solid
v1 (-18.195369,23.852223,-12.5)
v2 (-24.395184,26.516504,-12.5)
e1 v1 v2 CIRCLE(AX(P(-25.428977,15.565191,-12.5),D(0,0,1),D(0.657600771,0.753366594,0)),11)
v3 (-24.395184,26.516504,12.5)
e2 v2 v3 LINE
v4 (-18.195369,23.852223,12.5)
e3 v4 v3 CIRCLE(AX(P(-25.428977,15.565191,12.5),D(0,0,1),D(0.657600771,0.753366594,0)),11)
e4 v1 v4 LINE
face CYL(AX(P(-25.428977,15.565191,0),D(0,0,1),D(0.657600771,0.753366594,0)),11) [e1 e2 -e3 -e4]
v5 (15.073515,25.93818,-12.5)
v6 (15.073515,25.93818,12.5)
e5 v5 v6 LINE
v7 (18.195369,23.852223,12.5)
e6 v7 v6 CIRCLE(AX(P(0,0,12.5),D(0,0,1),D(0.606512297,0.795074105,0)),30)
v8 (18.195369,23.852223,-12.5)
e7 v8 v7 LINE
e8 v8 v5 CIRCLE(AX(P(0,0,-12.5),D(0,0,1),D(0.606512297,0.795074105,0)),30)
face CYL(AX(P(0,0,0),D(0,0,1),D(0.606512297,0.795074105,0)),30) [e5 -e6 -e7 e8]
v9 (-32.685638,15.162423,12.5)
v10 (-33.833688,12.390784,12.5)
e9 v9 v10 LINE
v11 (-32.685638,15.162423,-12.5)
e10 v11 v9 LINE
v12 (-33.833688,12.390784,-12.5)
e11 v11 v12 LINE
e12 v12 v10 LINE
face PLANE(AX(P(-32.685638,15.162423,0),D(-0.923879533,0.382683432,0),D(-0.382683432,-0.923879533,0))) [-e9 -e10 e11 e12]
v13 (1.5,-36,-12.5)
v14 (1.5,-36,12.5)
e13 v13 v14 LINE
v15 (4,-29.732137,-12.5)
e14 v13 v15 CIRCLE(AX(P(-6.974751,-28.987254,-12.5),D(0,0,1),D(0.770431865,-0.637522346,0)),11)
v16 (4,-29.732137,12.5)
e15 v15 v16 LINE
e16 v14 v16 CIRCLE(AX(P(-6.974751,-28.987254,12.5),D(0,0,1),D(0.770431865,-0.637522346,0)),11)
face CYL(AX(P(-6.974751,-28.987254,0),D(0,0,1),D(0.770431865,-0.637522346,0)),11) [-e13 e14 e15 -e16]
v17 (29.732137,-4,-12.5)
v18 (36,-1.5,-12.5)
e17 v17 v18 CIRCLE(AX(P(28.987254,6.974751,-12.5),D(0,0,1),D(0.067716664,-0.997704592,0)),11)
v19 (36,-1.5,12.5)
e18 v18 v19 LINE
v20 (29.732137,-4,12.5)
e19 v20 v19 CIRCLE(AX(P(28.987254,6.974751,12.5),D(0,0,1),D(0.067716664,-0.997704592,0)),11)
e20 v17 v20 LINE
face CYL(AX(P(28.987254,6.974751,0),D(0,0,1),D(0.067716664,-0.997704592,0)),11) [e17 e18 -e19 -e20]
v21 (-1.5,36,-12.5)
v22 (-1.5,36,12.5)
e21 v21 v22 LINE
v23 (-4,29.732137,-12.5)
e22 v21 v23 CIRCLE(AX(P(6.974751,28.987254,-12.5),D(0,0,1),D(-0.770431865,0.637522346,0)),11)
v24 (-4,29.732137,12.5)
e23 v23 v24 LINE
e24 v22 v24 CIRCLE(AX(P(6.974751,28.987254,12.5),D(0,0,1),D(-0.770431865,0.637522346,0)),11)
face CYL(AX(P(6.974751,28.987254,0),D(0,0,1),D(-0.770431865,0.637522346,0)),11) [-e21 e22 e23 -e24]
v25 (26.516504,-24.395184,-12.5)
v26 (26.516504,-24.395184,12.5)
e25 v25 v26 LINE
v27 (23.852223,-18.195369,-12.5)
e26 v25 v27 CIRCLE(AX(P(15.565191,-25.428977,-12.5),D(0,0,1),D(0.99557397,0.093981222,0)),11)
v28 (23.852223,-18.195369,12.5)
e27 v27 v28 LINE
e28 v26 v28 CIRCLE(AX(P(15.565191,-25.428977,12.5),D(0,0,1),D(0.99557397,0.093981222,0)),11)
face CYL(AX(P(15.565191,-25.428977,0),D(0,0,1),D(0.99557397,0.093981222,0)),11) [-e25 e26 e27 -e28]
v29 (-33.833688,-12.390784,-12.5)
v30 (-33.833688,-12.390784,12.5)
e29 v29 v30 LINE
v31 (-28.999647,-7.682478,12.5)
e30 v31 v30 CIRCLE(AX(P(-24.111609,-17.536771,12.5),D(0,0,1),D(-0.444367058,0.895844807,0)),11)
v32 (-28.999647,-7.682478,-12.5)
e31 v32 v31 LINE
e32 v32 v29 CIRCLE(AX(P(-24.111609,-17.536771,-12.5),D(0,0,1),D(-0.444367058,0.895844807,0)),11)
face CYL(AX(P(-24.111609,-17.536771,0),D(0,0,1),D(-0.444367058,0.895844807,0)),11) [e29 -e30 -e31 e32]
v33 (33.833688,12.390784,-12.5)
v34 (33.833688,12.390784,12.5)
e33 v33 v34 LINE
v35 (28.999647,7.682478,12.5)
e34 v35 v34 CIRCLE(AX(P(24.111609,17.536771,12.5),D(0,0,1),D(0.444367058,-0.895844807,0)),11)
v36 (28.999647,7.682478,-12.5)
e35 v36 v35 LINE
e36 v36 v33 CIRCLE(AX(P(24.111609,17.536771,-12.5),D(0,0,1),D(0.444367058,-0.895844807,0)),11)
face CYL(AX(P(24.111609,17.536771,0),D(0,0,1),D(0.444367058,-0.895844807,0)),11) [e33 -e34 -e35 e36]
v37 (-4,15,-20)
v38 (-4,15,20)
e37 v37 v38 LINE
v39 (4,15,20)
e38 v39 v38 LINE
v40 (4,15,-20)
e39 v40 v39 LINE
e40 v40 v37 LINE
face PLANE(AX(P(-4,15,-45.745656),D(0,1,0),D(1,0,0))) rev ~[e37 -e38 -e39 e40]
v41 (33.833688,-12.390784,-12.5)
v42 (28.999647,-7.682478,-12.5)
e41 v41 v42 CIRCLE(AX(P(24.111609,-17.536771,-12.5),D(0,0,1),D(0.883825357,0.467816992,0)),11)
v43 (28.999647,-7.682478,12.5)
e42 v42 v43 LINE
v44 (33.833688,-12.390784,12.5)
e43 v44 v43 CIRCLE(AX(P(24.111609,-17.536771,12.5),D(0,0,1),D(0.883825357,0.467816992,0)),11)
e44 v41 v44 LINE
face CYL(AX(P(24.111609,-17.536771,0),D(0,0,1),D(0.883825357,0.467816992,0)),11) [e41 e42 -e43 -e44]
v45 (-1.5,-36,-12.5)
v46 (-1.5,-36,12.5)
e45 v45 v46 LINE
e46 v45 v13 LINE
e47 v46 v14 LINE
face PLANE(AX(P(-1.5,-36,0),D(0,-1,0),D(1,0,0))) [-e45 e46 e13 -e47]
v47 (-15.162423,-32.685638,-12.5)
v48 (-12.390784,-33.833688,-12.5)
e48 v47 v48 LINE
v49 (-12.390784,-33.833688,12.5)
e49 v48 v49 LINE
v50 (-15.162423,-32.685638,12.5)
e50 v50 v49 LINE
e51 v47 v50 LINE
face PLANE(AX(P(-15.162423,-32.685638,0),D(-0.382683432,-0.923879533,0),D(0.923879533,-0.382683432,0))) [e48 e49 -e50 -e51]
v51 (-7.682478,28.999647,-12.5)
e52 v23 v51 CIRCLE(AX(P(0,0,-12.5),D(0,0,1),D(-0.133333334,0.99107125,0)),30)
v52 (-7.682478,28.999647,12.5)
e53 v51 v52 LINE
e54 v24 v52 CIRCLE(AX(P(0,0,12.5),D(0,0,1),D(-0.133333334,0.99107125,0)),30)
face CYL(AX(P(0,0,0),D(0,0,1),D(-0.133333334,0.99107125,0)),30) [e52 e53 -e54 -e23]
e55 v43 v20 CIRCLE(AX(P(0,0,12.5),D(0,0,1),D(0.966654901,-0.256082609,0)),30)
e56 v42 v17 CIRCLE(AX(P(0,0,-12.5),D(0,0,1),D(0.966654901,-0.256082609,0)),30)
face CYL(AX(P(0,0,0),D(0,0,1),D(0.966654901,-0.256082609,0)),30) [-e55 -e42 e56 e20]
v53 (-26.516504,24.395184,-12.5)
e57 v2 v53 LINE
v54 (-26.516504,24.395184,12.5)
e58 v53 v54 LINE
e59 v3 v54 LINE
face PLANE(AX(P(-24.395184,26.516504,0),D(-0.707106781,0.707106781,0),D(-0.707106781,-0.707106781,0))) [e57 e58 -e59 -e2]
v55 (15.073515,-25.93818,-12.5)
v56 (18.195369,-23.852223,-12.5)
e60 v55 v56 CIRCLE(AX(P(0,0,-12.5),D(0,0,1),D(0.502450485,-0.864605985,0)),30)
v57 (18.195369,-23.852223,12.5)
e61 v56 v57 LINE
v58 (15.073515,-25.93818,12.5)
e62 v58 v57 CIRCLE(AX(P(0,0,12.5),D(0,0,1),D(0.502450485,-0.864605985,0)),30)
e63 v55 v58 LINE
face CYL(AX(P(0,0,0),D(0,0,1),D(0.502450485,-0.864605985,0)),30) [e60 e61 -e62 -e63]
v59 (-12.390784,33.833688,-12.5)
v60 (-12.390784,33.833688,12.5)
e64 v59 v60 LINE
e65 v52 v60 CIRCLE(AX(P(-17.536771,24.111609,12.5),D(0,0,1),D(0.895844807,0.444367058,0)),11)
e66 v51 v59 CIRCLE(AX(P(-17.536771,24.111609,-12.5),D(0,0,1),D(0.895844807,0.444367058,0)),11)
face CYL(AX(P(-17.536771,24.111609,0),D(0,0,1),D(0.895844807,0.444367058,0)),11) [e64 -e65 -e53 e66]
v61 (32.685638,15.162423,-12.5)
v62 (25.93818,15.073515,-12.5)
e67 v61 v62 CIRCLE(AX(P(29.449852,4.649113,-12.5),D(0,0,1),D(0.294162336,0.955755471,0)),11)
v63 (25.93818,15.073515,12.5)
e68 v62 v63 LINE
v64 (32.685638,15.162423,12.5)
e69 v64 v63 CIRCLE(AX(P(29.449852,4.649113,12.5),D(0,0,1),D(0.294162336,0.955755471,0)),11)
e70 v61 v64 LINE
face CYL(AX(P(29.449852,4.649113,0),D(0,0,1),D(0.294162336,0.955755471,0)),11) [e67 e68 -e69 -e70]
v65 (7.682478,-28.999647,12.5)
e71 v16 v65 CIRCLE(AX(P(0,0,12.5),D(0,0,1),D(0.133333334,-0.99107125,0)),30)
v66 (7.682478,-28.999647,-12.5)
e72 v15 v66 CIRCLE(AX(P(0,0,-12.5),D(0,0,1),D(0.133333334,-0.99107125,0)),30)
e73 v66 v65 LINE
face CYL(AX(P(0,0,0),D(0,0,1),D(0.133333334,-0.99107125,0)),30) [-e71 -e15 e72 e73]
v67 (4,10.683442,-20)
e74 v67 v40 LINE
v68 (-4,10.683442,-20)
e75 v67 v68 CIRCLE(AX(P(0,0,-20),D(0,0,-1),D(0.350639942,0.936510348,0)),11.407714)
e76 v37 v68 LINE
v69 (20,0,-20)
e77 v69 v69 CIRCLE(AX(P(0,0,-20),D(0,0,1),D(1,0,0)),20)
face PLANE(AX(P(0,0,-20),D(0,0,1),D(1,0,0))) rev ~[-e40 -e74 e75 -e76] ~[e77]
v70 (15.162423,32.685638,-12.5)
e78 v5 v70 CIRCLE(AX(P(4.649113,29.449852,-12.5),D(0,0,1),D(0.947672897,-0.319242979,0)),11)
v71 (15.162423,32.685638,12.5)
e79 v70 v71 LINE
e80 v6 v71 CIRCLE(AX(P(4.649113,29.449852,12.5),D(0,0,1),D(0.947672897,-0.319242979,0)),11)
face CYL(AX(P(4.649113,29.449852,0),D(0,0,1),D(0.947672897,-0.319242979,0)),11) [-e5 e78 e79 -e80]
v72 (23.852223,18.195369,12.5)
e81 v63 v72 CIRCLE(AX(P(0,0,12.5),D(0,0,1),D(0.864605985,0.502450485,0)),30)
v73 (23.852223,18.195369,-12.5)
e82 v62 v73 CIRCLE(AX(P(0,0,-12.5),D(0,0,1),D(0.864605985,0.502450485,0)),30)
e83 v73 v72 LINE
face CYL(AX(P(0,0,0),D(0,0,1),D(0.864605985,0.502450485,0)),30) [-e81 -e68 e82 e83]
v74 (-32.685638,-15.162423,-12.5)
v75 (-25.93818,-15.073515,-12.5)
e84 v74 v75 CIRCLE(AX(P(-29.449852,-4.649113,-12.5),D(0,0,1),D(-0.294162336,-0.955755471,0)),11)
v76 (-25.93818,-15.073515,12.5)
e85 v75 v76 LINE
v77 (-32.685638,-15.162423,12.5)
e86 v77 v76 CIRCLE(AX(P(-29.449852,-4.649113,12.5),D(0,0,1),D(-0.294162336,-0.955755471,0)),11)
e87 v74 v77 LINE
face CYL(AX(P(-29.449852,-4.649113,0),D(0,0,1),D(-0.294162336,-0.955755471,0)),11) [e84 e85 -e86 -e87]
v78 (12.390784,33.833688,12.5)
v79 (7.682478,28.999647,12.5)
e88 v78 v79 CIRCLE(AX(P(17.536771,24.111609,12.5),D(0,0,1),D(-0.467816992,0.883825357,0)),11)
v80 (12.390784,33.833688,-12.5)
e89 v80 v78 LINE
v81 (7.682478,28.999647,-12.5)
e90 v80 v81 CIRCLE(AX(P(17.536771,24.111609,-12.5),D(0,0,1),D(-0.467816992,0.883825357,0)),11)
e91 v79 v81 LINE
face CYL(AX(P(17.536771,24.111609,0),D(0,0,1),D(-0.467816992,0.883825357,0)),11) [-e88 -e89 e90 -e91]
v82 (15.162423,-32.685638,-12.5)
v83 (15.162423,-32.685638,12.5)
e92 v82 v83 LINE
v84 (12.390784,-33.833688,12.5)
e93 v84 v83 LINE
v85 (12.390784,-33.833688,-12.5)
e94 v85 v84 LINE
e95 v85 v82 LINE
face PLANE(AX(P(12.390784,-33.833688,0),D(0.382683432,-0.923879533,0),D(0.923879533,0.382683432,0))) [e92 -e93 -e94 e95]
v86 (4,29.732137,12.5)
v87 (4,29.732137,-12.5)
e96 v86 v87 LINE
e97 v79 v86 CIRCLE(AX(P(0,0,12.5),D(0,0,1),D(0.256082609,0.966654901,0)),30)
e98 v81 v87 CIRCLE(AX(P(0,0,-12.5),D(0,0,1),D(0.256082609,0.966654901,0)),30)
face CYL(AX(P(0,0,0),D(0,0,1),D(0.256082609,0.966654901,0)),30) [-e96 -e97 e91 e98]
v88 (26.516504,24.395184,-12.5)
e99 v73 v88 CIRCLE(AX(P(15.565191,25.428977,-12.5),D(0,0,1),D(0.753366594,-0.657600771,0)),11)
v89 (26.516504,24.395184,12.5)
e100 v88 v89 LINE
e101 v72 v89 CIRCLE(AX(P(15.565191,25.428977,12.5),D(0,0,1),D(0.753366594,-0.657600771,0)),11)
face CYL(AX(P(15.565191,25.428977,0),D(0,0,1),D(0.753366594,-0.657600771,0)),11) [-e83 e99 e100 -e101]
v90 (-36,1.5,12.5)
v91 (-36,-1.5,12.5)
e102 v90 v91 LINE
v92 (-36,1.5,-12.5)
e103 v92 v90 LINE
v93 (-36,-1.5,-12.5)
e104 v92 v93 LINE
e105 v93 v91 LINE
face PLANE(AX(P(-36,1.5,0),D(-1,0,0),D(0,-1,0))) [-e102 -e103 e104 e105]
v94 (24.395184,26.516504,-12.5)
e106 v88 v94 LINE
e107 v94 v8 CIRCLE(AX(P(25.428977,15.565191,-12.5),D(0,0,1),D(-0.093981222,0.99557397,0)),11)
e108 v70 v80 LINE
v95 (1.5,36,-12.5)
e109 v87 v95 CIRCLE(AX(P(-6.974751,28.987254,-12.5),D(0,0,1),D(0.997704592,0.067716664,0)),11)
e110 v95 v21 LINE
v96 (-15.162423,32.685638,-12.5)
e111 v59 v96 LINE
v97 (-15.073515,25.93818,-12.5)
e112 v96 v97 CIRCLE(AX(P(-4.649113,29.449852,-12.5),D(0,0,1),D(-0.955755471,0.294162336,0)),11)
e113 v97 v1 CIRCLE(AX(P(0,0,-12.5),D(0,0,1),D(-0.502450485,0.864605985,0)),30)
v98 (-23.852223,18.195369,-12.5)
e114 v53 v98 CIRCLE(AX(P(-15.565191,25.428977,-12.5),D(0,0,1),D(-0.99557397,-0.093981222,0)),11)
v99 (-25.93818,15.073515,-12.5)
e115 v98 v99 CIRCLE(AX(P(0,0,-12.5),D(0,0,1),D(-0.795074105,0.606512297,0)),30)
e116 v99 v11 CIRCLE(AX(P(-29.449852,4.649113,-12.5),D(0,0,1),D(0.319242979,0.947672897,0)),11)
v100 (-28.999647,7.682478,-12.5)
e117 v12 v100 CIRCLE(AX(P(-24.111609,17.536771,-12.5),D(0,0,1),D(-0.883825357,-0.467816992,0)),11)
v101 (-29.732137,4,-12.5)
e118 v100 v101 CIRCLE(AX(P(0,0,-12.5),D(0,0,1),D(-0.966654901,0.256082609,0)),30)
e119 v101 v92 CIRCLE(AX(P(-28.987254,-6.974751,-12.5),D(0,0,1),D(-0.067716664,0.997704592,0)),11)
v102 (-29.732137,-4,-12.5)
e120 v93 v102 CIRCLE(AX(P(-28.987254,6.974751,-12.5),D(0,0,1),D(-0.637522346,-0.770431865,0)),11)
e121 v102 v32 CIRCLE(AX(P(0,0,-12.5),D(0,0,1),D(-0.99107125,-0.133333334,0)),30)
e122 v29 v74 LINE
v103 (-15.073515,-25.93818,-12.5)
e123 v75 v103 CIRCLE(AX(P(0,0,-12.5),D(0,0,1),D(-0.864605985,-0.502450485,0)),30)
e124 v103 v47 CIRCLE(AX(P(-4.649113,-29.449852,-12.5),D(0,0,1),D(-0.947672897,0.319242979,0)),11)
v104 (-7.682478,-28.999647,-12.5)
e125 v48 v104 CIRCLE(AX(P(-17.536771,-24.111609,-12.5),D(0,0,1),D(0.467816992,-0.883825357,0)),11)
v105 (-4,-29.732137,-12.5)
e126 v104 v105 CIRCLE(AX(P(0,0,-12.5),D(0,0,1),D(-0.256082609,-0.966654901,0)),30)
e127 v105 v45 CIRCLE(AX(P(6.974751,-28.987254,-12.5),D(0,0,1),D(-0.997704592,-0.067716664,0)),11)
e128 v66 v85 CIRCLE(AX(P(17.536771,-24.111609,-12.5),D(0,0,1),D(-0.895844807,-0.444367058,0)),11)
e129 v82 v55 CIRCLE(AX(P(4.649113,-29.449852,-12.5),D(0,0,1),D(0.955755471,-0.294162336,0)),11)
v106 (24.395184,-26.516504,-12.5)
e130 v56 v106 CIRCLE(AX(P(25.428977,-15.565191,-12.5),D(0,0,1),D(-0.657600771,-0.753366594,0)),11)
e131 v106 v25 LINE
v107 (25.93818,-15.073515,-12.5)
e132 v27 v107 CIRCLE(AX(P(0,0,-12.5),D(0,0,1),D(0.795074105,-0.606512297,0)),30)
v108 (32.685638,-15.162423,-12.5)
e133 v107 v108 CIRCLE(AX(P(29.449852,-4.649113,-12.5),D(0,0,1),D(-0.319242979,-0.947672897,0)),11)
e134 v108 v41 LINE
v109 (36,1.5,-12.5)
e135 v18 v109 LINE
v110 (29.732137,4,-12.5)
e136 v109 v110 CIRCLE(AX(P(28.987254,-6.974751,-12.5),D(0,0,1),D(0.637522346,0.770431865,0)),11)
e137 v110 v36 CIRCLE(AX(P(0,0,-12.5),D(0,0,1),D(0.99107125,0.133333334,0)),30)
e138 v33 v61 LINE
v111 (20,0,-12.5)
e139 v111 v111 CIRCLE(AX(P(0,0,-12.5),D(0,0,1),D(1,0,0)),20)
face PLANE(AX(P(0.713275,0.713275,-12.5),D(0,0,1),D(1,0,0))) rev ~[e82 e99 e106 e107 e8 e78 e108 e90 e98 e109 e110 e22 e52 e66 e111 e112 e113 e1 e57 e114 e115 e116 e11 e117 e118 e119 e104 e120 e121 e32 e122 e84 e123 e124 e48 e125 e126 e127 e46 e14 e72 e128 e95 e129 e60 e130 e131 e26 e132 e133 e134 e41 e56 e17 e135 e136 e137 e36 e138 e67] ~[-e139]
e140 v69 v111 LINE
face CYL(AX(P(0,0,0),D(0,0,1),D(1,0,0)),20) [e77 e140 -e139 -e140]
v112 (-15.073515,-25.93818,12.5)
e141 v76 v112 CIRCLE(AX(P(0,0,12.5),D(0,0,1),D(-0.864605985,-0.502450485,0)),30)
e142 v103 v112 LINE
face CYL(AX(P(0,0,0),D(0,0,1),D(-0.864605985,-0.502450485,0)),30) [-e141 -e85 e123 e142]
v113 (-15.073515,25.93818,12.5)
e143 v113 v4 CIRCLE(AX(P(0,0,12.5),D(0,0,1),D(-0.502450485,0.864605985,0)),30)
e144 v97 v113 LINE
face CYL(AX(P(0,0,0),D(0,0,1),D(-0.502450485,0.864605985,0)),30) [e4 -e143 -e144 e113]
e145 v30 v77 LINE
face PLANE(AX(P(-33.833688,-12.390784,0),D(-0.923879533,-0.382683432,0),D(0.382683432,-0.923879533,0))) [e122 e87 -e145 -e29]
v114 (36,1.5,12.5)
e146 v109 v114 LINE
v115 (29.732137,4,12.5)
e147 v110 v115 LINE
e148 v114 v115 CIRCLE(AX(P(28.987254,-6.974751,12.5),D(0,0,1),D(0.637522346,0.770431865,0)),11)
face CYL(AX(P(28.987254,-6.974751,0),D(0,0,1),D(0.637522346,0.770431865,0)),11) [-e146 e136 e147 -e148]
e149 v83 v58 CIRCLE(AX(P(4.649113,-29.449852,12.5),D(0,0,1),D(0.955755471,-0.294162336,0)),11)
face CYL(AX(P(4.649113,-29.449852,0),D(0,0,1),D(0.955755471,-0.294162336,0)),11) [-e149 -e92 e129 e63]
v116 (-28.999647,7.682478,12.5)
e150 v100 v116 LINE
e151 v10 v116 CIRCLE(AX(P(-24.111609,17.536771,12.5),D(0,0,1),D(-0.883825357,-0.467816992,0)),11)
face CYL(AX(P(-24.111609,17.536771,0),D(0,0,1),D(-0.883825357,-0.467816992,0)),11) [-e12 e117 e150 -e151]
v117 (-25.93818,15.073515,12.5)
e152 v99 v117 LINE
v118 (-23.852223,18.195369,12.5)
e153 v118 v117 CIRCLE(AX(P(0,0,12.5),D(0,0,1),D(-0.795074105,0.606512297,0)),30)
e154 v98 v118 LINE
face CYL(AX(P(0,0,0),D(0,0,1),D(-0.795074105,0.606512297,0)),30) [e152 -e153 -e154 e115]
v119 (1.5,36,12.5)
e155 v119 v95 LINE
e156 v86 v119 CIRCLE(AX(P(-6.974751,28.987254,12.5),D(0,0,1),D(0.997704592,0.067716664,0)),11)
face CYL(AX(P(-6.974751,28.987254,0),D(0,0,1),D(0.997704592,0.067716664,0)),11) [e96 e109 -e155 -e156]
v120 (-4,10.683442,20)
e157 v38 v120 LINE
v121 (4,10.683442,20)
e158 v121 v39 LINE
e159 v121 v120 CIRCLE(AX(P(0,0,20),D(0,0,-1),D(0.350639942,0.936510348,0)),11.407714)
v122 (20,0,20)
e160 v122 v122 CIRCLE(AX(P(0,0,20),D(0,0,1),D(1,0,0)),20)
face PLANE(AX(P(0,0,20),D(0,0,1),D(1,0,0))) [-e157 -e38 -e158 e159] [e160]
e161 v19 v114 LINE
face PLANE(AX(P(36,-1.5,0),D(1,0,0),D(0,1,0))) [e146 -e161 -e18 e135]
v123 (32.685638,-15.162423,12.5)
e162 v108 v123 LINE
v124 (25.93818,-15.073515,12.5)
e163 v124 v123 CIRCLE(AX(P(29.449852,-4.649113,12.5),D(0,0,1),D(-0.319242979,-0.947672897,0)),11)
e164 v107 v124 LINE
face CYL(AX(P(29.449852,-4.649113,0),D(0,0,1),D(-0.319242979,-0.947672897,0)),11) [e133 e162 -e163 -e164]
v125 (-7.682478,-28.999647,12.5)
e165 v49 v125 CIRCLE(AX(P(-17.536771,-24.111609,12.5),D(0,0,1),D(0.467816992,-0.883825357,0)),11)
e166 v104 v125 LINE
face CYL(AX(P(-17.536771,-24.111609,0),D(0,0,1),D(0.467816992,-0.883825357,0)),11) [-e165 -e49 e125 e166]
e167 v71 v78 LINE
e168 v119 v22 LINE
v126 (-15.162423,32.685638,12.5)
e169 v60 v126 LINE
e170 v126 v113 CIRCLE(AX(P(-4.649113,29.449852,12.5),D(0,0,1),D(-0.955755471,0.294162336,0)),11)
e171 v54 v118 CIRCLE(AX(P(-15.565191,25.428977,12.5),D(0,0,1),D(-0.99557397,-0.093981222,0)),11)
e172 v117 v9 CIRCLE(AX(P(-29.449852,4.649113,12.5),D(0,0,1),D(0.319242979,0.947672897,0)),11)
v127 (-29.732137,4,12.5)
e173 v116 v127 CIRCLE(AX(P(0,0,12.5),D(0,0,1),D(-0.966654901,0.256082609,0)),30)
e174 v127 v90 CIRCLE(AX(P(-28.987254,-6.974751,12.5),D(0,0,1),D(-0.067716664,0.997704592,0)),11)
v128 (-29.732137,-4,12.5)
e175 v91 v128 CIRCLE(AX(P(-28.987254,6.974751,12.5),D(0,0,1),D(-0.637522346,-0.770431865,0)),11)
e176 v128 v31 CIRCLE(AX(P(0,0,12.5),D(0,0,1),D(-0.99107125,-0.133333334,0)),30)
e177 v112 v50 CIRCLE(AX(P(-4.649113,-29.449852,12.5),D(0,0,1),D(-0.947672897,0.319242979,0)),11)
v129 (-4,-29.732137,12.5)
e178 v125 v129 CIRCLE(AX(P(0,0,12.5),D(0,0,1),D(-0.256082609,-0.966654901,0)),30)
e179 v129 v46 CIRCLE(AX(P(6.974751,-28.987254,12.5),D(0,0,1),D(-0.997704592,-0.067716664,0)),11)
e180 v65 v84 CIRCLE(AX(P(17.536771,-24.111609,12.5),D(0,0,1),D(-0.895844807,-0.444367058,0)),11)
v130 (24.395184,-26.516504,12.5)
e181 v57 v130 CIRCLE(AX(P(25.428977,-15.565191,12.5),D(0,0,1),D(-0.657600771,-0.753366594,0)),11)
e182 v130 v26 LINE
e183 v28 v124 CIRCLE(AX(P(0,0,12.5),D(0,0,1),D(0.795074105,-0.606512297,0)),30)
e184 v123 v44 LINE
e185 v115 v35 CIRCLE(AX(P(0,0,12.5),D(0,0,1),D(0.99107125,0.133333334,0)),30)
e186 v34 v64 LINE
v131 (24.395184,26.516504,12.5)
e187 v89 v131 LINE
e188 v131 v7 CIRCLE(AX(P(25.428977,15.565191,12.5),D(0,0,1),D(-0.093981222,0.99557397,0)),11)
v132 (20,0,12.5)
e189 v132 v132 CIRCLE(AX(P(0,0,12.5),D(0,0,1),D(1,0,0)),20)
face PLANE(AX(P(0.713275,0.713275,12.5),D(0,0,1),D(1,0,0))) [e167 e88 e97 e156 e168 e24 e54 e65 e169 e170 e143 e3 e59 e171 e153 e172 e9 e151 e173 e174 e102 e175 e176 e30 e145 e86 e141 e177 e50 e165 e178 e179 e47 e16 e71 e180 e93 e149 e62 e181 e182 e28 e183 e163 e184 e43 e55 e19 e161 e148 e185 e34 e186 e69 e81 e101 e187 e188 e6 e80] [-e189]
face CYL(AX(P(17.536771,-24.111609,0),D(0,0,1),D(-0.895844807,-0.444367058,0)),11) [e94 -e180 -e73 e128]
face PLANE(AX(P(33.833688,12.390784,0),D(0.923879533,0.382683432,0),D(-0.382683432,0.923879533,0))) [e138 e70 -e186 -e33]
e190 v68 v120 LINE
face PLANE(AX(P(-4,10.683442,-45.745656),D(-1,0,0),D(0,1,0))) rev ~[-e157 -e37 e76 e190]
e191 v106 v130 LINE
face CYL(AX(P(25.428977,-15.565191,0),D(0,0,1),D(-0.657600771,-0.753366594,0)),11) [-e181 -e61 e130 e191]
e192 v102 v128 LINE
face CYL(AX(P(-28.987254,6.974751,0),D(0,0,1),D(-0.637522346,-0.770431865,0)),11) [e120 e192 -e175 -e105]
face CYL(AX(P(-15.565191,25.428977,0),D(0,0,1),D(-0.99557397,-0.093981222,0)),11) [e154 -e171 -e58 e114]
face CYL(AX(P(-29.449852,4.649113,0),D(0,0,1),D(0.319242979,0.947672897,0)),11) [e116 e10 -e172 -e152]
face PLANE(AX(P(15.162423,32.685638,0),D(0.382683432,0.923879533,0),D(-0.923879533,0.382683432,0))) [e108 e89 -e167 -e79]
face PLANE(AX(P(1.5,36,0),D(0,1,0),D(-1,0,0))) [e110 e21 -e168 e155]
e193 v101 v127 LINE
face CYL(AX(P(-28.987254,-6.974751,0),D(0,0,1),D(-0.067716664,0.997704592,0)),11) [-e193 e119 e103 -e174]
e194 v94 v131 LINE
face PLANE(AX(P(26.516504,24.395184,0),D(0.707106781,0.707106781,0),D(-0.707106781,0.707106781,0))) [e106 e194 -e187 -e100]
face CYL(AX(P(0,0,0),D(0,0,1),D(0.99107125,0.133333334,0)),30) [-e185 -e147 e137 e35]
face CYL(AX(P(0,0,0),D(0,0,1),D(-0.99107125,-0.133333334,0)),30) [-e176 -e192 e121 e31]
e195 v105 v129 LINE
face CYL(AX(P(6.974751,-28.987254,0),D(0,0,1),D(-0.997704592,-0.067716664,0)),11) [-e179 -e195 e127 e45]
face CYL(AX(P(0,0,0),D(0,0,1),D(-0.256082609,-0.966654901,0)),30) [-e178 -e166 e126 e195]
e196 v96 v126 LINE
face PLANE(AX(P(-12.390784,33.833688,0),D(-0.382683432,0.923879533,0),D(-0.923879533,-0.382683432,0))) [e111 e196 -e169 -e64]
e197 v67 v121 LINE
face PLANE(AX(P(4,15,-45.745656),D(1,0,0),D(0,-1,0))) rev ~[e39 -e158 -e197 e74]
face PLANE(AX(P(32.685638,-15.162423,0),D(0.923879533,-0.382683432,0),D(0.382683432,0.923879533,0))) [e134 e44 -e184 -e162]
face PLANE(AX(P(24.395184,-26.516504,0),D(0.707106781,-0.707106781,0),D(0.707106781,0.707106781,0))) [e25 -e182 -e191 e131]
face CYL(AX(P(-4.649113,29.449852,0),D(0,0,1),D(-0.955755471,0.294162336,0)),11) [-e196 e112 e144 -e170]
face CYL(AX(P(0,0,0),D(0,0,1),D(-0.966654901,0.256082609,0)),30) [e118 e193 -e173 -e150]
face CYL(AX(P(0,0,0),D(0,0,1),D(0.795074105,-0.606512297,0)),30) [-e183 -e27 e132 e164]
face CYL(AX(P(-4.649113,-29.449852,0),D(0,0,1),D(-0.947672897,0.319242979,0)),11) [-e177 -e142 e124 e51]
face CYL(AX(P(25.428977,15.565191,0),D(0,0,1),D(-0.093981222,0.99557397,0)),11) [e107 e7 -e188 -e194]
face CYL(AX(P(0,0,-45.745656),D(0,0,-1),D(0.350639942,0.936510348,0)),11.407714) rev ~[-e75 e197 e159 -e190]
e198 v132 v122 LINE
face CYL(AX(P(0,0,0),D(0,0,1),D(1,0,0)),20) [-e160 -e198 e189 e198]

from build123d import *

# Parameters (mm, degrees)
BOSS_EXTRUDE1_DEPTH     = 12.5
SKETCH3_R               = 20
BOSS_EXTRUDE2_DEPTH     = 20
CUT_EXTRUDE1_DEPTH      = 65.745656225
CUT_EXTRUDE1_DEPTH_BACK = 65.745656225


with BuildPart() as part:
    # Sketch2 → Boss-Extrude1 (new, symmetric)
    with BuildSketch(Plane.XY):
        with BuildLine():
            Line((1.5, 36), (-1.5, 36))
            ThreePointArc((-1.5, 36), (-3.242504384, 33.062509074), (-4, 29.732137495))
            ThreePointArc((-4, 29.732137495), (-5.85270966, 29.423558412), (-7.682478298, 28.999647019))
            ThreePointArc((-7.682478298, 28.999647019), (-9.656791021, 31.786628134), (-12.390784266, 33.833688319))
            Line((-12.390784266, 33.833688319), (-15.162422864, 32.685638022))
            ThreePointArc((-15.162422864, 32.685638022), (-15.64815789, 29.30492272), (-15.073514558, 25.93817956))
            ThreePointArc((-15.073514558, 25.93817956), (-16.667106991, 24.944088369), (-18.195368917, 23.852223166))
            ThreePointArc((-18.195368917, 23.852223166), (-21.085927531, 25.671521208), (-24.395183951, 26.516504294))
            Line((-24.395183951, 26.516504294), (-26.516504294, 24.395183951))
            ThreePointArc((-26.516504294, 24.395183951), (-25.671521208, 21.085927531), (-23.852223166, 18.195368917))
            ThreePointArc((-23.852223166, 18.195368917), (-24.944088369, 16.667106991), (-25.93817956, 15.073514558))
            ThreePointArc((-25.93817956, 15.073514558), (-29.30492272, 15.64815789), (-32.685638022, 15.162422864))
            Line((-32.685638022, 15.162422864), (-33.833688319, 12.390784266))
            ThreePointArc((-33.833688319, 12.390784266), (-31.786628134, 9.656791021), (-28.999647019, 7.682478298))
            ThreePointArc((-28.999647019, 7.682478298), (-29.423558412, 5.85270966), (-29.732137495, 4))
            ThreePointArc((-29.732137495, 4), (-33.062509074, 3.242504384), (-36, 1.5))
            Line((-36, 1.5), (-36, -1.5))
            ThreePointArc((-36, -1.5), (-33.062509074, -3.242504384), (-29.732137495, -4))
            ThreePointArc((-29.732137495, -4), (-29.423558412, -5.85270966), (-28.999647019, -7.682478298))
            ThreePointArc((-28.999647019, -7.682478298), (-31.786628134, -9.656791021), (-33.833688319, -12.390784266))
            Line((-33.833688319, -12.390784266), (-32.685638022, -15.162422864))
            ThreePointArc((-32.685638022, -15.162422864), (-29.30492272, -15.64815789), (-25.93817956, -15.073514558))
            ThreePointArc((-25.93817956, -15.073514558), (-21.213203436, -21.213203436), (-15.073514558, -25.93817956))
            ThreePointArc((-15.073514558, -25.93817956), (-15.64815789, -29.30492272), (-15.162422864, -32.685638022))
            Line((-15.162422864, -32.685638022), (-12.390784266, -33.833688319))
            ThreePointArc((-12.390784266, -33.833688319), (-9.656791021, -31.786628134), (-7.682478298, -28.999647019))
            ThreePointArc((-7.682478298, -28.999647019), (-5.85270966, -29.423558412), (-4, -29.732137495))
            ThreePointArc((-4, -29.732137495), (-3.242504384, -33.062509074), (-1.5, -36))
            Line((-1.5, -36), (1.5, -36))
            ThreePointArc((1.5, -36), (3.242504384, -33.062509074), (4, -29.732137495))
            ThreePointArc((4, -29.732137495), (5.85270966, -29.423558412), (7.682478298, -28.999647019))
            ThreePointArc((7.682478298, -28.999647019), (9.656791021, -31.786628134), (12.390784266, -33.833688319))
            Line((12.390784266, -33.833688319), (15.162422864, -32.685638022))
            ThreePointArc((15.162422864, -32.685638022), (15.64815789, -29.30492272), (15.073514558, -25.93817956))
            ThreePointArc((15.073514558, -25.93817956), (16.667106991, -24.944088369), (18.195368917, -23.852223166))
            ThreePointArc((18.195368917, -23.852223166), (21.085927531, -25.671521208), (24.395183951, -26.516504294))
            Line((24.395183951, -26.516504294), (26.516504294, -24.395183951))
            ThreePointArc((26.516504294, -24.395183951), (25.671521208, -21.085927531), (23.852223166, -18.195368917))
            ThreePointArc((23.852223166, -18.195368917), (24.944088369, -16.667106991), (25.93817956, -15.073514558))
            ThreePointArc((25.93817956, -15.073514558), (29.30492272, -15.64815789), (32.685638022, -15.162422864))
            Line((32.685638022, -15.162422864), (33.833688319, -12.390784266))
            ThreePointArc((33.833688319, -12.390784266), (31.786628134, -9.656791021), (28.999647019, -7.682478298))
            ThreePointArc((28.999647019, -7.682478298), (29.423558412, -5.85270966), (29.732137495, -4))
            ThreePointArc((29.732137495, -4), (33.062509074, -3.242504384), (36, -1.5))
            Line((36, -1.5), (36, 1.5))
            ThreePointArc((36, 1.5), (33.062509074, 3.242504384), (29.732137495, 4))
            ThreePointArc((29.732137495, 4), (29.423558412, 5.85270966), (28.999647019, 7.682478298))
            ThreePointArc((28.999647019, 7.682478298), (31.786628134, 9.656791021), (33.833688319, 12.390784266))
            Line((33.833688319, 12.390784266), (32.685638022, 15.162422864))
            ThreePointArc((32.685638022, 15.162422864), (29.30492272, 15.64815789), (25.93817956, 15.073514558))
            ThreePointArc((25.93817956, 15.073514558), (24.944088369, 16.667106991), (23.852223166, 18.195368917))
            ThreePointArc((23.852223166, 18.195368917), (25.671521208, 21.085927531), (26.516504294, 24.395183951))
            Line((26.516504294, 24.395183951), (24.395183951, 26.516504294))
            ThreePointArc((24.395183951, 26.516504294), (21.085927531, 25.671521208), (18.195368917, 23.852223166))
            ThreePointArc((18.195368917, 23.852223166), (16.667106991, 24.944088369), (15.073514558, 25.93817956))
            ThreePointArc((15.073514558, 25.93817956), (15.64815789, 29.30492272), (15.162422864, 32.685638022))
            Line((15.162422864, 32.685638022), (12.390784266, 33.833688319))
            ThreePointArc((12.390784266, 33.833688319), (9.656791021, 31.786628134), (7.682478298, 28.999647019))
            ThreePointArc((7.682478298, 28.999647019), (5.85270966, 29.423558412), (4, 29.732137495))
            ThreePointArc((4, 29.732137495), (3.242504384, 33.062509074), (1.5, 36))
        make_face()
    extrude(amount=BOSS_EXTRUDE1_DEPTH, both=True)

    # Sketch3 → Boss-Extrude2 (add, symmetric)
    with BuildSketch(Plane.XY):
        Circle(SKETCH3_R)
    extrude(amount=BOSS_EXTRUDE2_DEPTH, both=True)

    # Sketch4 → Cut-Extrude1 (cut, two sides: drawn at the far end of the back side and taken through both)
    with BuildSketch(Plane.XY.offset(20).offset(-CUT_EXTRUDE1_DEPTH_BACK)):
        with BuildLine():
            Line((4, 15), (4, 10.683441748))
            ThreePointArc((4, 10.683441748), (0, -11.407713513), (-4, 10.683441748))
            Line((-4, 10.683441748), (-4, 15))
            Line((-4, 15), (4, 15))
        make_face()
    extrude(amount=CUT_EXTRUDE1_DEPTH + CUT_EXTRUDE1_DEPTH_BACK, mode=Mode.SUBTRACT)


solid = part.part
